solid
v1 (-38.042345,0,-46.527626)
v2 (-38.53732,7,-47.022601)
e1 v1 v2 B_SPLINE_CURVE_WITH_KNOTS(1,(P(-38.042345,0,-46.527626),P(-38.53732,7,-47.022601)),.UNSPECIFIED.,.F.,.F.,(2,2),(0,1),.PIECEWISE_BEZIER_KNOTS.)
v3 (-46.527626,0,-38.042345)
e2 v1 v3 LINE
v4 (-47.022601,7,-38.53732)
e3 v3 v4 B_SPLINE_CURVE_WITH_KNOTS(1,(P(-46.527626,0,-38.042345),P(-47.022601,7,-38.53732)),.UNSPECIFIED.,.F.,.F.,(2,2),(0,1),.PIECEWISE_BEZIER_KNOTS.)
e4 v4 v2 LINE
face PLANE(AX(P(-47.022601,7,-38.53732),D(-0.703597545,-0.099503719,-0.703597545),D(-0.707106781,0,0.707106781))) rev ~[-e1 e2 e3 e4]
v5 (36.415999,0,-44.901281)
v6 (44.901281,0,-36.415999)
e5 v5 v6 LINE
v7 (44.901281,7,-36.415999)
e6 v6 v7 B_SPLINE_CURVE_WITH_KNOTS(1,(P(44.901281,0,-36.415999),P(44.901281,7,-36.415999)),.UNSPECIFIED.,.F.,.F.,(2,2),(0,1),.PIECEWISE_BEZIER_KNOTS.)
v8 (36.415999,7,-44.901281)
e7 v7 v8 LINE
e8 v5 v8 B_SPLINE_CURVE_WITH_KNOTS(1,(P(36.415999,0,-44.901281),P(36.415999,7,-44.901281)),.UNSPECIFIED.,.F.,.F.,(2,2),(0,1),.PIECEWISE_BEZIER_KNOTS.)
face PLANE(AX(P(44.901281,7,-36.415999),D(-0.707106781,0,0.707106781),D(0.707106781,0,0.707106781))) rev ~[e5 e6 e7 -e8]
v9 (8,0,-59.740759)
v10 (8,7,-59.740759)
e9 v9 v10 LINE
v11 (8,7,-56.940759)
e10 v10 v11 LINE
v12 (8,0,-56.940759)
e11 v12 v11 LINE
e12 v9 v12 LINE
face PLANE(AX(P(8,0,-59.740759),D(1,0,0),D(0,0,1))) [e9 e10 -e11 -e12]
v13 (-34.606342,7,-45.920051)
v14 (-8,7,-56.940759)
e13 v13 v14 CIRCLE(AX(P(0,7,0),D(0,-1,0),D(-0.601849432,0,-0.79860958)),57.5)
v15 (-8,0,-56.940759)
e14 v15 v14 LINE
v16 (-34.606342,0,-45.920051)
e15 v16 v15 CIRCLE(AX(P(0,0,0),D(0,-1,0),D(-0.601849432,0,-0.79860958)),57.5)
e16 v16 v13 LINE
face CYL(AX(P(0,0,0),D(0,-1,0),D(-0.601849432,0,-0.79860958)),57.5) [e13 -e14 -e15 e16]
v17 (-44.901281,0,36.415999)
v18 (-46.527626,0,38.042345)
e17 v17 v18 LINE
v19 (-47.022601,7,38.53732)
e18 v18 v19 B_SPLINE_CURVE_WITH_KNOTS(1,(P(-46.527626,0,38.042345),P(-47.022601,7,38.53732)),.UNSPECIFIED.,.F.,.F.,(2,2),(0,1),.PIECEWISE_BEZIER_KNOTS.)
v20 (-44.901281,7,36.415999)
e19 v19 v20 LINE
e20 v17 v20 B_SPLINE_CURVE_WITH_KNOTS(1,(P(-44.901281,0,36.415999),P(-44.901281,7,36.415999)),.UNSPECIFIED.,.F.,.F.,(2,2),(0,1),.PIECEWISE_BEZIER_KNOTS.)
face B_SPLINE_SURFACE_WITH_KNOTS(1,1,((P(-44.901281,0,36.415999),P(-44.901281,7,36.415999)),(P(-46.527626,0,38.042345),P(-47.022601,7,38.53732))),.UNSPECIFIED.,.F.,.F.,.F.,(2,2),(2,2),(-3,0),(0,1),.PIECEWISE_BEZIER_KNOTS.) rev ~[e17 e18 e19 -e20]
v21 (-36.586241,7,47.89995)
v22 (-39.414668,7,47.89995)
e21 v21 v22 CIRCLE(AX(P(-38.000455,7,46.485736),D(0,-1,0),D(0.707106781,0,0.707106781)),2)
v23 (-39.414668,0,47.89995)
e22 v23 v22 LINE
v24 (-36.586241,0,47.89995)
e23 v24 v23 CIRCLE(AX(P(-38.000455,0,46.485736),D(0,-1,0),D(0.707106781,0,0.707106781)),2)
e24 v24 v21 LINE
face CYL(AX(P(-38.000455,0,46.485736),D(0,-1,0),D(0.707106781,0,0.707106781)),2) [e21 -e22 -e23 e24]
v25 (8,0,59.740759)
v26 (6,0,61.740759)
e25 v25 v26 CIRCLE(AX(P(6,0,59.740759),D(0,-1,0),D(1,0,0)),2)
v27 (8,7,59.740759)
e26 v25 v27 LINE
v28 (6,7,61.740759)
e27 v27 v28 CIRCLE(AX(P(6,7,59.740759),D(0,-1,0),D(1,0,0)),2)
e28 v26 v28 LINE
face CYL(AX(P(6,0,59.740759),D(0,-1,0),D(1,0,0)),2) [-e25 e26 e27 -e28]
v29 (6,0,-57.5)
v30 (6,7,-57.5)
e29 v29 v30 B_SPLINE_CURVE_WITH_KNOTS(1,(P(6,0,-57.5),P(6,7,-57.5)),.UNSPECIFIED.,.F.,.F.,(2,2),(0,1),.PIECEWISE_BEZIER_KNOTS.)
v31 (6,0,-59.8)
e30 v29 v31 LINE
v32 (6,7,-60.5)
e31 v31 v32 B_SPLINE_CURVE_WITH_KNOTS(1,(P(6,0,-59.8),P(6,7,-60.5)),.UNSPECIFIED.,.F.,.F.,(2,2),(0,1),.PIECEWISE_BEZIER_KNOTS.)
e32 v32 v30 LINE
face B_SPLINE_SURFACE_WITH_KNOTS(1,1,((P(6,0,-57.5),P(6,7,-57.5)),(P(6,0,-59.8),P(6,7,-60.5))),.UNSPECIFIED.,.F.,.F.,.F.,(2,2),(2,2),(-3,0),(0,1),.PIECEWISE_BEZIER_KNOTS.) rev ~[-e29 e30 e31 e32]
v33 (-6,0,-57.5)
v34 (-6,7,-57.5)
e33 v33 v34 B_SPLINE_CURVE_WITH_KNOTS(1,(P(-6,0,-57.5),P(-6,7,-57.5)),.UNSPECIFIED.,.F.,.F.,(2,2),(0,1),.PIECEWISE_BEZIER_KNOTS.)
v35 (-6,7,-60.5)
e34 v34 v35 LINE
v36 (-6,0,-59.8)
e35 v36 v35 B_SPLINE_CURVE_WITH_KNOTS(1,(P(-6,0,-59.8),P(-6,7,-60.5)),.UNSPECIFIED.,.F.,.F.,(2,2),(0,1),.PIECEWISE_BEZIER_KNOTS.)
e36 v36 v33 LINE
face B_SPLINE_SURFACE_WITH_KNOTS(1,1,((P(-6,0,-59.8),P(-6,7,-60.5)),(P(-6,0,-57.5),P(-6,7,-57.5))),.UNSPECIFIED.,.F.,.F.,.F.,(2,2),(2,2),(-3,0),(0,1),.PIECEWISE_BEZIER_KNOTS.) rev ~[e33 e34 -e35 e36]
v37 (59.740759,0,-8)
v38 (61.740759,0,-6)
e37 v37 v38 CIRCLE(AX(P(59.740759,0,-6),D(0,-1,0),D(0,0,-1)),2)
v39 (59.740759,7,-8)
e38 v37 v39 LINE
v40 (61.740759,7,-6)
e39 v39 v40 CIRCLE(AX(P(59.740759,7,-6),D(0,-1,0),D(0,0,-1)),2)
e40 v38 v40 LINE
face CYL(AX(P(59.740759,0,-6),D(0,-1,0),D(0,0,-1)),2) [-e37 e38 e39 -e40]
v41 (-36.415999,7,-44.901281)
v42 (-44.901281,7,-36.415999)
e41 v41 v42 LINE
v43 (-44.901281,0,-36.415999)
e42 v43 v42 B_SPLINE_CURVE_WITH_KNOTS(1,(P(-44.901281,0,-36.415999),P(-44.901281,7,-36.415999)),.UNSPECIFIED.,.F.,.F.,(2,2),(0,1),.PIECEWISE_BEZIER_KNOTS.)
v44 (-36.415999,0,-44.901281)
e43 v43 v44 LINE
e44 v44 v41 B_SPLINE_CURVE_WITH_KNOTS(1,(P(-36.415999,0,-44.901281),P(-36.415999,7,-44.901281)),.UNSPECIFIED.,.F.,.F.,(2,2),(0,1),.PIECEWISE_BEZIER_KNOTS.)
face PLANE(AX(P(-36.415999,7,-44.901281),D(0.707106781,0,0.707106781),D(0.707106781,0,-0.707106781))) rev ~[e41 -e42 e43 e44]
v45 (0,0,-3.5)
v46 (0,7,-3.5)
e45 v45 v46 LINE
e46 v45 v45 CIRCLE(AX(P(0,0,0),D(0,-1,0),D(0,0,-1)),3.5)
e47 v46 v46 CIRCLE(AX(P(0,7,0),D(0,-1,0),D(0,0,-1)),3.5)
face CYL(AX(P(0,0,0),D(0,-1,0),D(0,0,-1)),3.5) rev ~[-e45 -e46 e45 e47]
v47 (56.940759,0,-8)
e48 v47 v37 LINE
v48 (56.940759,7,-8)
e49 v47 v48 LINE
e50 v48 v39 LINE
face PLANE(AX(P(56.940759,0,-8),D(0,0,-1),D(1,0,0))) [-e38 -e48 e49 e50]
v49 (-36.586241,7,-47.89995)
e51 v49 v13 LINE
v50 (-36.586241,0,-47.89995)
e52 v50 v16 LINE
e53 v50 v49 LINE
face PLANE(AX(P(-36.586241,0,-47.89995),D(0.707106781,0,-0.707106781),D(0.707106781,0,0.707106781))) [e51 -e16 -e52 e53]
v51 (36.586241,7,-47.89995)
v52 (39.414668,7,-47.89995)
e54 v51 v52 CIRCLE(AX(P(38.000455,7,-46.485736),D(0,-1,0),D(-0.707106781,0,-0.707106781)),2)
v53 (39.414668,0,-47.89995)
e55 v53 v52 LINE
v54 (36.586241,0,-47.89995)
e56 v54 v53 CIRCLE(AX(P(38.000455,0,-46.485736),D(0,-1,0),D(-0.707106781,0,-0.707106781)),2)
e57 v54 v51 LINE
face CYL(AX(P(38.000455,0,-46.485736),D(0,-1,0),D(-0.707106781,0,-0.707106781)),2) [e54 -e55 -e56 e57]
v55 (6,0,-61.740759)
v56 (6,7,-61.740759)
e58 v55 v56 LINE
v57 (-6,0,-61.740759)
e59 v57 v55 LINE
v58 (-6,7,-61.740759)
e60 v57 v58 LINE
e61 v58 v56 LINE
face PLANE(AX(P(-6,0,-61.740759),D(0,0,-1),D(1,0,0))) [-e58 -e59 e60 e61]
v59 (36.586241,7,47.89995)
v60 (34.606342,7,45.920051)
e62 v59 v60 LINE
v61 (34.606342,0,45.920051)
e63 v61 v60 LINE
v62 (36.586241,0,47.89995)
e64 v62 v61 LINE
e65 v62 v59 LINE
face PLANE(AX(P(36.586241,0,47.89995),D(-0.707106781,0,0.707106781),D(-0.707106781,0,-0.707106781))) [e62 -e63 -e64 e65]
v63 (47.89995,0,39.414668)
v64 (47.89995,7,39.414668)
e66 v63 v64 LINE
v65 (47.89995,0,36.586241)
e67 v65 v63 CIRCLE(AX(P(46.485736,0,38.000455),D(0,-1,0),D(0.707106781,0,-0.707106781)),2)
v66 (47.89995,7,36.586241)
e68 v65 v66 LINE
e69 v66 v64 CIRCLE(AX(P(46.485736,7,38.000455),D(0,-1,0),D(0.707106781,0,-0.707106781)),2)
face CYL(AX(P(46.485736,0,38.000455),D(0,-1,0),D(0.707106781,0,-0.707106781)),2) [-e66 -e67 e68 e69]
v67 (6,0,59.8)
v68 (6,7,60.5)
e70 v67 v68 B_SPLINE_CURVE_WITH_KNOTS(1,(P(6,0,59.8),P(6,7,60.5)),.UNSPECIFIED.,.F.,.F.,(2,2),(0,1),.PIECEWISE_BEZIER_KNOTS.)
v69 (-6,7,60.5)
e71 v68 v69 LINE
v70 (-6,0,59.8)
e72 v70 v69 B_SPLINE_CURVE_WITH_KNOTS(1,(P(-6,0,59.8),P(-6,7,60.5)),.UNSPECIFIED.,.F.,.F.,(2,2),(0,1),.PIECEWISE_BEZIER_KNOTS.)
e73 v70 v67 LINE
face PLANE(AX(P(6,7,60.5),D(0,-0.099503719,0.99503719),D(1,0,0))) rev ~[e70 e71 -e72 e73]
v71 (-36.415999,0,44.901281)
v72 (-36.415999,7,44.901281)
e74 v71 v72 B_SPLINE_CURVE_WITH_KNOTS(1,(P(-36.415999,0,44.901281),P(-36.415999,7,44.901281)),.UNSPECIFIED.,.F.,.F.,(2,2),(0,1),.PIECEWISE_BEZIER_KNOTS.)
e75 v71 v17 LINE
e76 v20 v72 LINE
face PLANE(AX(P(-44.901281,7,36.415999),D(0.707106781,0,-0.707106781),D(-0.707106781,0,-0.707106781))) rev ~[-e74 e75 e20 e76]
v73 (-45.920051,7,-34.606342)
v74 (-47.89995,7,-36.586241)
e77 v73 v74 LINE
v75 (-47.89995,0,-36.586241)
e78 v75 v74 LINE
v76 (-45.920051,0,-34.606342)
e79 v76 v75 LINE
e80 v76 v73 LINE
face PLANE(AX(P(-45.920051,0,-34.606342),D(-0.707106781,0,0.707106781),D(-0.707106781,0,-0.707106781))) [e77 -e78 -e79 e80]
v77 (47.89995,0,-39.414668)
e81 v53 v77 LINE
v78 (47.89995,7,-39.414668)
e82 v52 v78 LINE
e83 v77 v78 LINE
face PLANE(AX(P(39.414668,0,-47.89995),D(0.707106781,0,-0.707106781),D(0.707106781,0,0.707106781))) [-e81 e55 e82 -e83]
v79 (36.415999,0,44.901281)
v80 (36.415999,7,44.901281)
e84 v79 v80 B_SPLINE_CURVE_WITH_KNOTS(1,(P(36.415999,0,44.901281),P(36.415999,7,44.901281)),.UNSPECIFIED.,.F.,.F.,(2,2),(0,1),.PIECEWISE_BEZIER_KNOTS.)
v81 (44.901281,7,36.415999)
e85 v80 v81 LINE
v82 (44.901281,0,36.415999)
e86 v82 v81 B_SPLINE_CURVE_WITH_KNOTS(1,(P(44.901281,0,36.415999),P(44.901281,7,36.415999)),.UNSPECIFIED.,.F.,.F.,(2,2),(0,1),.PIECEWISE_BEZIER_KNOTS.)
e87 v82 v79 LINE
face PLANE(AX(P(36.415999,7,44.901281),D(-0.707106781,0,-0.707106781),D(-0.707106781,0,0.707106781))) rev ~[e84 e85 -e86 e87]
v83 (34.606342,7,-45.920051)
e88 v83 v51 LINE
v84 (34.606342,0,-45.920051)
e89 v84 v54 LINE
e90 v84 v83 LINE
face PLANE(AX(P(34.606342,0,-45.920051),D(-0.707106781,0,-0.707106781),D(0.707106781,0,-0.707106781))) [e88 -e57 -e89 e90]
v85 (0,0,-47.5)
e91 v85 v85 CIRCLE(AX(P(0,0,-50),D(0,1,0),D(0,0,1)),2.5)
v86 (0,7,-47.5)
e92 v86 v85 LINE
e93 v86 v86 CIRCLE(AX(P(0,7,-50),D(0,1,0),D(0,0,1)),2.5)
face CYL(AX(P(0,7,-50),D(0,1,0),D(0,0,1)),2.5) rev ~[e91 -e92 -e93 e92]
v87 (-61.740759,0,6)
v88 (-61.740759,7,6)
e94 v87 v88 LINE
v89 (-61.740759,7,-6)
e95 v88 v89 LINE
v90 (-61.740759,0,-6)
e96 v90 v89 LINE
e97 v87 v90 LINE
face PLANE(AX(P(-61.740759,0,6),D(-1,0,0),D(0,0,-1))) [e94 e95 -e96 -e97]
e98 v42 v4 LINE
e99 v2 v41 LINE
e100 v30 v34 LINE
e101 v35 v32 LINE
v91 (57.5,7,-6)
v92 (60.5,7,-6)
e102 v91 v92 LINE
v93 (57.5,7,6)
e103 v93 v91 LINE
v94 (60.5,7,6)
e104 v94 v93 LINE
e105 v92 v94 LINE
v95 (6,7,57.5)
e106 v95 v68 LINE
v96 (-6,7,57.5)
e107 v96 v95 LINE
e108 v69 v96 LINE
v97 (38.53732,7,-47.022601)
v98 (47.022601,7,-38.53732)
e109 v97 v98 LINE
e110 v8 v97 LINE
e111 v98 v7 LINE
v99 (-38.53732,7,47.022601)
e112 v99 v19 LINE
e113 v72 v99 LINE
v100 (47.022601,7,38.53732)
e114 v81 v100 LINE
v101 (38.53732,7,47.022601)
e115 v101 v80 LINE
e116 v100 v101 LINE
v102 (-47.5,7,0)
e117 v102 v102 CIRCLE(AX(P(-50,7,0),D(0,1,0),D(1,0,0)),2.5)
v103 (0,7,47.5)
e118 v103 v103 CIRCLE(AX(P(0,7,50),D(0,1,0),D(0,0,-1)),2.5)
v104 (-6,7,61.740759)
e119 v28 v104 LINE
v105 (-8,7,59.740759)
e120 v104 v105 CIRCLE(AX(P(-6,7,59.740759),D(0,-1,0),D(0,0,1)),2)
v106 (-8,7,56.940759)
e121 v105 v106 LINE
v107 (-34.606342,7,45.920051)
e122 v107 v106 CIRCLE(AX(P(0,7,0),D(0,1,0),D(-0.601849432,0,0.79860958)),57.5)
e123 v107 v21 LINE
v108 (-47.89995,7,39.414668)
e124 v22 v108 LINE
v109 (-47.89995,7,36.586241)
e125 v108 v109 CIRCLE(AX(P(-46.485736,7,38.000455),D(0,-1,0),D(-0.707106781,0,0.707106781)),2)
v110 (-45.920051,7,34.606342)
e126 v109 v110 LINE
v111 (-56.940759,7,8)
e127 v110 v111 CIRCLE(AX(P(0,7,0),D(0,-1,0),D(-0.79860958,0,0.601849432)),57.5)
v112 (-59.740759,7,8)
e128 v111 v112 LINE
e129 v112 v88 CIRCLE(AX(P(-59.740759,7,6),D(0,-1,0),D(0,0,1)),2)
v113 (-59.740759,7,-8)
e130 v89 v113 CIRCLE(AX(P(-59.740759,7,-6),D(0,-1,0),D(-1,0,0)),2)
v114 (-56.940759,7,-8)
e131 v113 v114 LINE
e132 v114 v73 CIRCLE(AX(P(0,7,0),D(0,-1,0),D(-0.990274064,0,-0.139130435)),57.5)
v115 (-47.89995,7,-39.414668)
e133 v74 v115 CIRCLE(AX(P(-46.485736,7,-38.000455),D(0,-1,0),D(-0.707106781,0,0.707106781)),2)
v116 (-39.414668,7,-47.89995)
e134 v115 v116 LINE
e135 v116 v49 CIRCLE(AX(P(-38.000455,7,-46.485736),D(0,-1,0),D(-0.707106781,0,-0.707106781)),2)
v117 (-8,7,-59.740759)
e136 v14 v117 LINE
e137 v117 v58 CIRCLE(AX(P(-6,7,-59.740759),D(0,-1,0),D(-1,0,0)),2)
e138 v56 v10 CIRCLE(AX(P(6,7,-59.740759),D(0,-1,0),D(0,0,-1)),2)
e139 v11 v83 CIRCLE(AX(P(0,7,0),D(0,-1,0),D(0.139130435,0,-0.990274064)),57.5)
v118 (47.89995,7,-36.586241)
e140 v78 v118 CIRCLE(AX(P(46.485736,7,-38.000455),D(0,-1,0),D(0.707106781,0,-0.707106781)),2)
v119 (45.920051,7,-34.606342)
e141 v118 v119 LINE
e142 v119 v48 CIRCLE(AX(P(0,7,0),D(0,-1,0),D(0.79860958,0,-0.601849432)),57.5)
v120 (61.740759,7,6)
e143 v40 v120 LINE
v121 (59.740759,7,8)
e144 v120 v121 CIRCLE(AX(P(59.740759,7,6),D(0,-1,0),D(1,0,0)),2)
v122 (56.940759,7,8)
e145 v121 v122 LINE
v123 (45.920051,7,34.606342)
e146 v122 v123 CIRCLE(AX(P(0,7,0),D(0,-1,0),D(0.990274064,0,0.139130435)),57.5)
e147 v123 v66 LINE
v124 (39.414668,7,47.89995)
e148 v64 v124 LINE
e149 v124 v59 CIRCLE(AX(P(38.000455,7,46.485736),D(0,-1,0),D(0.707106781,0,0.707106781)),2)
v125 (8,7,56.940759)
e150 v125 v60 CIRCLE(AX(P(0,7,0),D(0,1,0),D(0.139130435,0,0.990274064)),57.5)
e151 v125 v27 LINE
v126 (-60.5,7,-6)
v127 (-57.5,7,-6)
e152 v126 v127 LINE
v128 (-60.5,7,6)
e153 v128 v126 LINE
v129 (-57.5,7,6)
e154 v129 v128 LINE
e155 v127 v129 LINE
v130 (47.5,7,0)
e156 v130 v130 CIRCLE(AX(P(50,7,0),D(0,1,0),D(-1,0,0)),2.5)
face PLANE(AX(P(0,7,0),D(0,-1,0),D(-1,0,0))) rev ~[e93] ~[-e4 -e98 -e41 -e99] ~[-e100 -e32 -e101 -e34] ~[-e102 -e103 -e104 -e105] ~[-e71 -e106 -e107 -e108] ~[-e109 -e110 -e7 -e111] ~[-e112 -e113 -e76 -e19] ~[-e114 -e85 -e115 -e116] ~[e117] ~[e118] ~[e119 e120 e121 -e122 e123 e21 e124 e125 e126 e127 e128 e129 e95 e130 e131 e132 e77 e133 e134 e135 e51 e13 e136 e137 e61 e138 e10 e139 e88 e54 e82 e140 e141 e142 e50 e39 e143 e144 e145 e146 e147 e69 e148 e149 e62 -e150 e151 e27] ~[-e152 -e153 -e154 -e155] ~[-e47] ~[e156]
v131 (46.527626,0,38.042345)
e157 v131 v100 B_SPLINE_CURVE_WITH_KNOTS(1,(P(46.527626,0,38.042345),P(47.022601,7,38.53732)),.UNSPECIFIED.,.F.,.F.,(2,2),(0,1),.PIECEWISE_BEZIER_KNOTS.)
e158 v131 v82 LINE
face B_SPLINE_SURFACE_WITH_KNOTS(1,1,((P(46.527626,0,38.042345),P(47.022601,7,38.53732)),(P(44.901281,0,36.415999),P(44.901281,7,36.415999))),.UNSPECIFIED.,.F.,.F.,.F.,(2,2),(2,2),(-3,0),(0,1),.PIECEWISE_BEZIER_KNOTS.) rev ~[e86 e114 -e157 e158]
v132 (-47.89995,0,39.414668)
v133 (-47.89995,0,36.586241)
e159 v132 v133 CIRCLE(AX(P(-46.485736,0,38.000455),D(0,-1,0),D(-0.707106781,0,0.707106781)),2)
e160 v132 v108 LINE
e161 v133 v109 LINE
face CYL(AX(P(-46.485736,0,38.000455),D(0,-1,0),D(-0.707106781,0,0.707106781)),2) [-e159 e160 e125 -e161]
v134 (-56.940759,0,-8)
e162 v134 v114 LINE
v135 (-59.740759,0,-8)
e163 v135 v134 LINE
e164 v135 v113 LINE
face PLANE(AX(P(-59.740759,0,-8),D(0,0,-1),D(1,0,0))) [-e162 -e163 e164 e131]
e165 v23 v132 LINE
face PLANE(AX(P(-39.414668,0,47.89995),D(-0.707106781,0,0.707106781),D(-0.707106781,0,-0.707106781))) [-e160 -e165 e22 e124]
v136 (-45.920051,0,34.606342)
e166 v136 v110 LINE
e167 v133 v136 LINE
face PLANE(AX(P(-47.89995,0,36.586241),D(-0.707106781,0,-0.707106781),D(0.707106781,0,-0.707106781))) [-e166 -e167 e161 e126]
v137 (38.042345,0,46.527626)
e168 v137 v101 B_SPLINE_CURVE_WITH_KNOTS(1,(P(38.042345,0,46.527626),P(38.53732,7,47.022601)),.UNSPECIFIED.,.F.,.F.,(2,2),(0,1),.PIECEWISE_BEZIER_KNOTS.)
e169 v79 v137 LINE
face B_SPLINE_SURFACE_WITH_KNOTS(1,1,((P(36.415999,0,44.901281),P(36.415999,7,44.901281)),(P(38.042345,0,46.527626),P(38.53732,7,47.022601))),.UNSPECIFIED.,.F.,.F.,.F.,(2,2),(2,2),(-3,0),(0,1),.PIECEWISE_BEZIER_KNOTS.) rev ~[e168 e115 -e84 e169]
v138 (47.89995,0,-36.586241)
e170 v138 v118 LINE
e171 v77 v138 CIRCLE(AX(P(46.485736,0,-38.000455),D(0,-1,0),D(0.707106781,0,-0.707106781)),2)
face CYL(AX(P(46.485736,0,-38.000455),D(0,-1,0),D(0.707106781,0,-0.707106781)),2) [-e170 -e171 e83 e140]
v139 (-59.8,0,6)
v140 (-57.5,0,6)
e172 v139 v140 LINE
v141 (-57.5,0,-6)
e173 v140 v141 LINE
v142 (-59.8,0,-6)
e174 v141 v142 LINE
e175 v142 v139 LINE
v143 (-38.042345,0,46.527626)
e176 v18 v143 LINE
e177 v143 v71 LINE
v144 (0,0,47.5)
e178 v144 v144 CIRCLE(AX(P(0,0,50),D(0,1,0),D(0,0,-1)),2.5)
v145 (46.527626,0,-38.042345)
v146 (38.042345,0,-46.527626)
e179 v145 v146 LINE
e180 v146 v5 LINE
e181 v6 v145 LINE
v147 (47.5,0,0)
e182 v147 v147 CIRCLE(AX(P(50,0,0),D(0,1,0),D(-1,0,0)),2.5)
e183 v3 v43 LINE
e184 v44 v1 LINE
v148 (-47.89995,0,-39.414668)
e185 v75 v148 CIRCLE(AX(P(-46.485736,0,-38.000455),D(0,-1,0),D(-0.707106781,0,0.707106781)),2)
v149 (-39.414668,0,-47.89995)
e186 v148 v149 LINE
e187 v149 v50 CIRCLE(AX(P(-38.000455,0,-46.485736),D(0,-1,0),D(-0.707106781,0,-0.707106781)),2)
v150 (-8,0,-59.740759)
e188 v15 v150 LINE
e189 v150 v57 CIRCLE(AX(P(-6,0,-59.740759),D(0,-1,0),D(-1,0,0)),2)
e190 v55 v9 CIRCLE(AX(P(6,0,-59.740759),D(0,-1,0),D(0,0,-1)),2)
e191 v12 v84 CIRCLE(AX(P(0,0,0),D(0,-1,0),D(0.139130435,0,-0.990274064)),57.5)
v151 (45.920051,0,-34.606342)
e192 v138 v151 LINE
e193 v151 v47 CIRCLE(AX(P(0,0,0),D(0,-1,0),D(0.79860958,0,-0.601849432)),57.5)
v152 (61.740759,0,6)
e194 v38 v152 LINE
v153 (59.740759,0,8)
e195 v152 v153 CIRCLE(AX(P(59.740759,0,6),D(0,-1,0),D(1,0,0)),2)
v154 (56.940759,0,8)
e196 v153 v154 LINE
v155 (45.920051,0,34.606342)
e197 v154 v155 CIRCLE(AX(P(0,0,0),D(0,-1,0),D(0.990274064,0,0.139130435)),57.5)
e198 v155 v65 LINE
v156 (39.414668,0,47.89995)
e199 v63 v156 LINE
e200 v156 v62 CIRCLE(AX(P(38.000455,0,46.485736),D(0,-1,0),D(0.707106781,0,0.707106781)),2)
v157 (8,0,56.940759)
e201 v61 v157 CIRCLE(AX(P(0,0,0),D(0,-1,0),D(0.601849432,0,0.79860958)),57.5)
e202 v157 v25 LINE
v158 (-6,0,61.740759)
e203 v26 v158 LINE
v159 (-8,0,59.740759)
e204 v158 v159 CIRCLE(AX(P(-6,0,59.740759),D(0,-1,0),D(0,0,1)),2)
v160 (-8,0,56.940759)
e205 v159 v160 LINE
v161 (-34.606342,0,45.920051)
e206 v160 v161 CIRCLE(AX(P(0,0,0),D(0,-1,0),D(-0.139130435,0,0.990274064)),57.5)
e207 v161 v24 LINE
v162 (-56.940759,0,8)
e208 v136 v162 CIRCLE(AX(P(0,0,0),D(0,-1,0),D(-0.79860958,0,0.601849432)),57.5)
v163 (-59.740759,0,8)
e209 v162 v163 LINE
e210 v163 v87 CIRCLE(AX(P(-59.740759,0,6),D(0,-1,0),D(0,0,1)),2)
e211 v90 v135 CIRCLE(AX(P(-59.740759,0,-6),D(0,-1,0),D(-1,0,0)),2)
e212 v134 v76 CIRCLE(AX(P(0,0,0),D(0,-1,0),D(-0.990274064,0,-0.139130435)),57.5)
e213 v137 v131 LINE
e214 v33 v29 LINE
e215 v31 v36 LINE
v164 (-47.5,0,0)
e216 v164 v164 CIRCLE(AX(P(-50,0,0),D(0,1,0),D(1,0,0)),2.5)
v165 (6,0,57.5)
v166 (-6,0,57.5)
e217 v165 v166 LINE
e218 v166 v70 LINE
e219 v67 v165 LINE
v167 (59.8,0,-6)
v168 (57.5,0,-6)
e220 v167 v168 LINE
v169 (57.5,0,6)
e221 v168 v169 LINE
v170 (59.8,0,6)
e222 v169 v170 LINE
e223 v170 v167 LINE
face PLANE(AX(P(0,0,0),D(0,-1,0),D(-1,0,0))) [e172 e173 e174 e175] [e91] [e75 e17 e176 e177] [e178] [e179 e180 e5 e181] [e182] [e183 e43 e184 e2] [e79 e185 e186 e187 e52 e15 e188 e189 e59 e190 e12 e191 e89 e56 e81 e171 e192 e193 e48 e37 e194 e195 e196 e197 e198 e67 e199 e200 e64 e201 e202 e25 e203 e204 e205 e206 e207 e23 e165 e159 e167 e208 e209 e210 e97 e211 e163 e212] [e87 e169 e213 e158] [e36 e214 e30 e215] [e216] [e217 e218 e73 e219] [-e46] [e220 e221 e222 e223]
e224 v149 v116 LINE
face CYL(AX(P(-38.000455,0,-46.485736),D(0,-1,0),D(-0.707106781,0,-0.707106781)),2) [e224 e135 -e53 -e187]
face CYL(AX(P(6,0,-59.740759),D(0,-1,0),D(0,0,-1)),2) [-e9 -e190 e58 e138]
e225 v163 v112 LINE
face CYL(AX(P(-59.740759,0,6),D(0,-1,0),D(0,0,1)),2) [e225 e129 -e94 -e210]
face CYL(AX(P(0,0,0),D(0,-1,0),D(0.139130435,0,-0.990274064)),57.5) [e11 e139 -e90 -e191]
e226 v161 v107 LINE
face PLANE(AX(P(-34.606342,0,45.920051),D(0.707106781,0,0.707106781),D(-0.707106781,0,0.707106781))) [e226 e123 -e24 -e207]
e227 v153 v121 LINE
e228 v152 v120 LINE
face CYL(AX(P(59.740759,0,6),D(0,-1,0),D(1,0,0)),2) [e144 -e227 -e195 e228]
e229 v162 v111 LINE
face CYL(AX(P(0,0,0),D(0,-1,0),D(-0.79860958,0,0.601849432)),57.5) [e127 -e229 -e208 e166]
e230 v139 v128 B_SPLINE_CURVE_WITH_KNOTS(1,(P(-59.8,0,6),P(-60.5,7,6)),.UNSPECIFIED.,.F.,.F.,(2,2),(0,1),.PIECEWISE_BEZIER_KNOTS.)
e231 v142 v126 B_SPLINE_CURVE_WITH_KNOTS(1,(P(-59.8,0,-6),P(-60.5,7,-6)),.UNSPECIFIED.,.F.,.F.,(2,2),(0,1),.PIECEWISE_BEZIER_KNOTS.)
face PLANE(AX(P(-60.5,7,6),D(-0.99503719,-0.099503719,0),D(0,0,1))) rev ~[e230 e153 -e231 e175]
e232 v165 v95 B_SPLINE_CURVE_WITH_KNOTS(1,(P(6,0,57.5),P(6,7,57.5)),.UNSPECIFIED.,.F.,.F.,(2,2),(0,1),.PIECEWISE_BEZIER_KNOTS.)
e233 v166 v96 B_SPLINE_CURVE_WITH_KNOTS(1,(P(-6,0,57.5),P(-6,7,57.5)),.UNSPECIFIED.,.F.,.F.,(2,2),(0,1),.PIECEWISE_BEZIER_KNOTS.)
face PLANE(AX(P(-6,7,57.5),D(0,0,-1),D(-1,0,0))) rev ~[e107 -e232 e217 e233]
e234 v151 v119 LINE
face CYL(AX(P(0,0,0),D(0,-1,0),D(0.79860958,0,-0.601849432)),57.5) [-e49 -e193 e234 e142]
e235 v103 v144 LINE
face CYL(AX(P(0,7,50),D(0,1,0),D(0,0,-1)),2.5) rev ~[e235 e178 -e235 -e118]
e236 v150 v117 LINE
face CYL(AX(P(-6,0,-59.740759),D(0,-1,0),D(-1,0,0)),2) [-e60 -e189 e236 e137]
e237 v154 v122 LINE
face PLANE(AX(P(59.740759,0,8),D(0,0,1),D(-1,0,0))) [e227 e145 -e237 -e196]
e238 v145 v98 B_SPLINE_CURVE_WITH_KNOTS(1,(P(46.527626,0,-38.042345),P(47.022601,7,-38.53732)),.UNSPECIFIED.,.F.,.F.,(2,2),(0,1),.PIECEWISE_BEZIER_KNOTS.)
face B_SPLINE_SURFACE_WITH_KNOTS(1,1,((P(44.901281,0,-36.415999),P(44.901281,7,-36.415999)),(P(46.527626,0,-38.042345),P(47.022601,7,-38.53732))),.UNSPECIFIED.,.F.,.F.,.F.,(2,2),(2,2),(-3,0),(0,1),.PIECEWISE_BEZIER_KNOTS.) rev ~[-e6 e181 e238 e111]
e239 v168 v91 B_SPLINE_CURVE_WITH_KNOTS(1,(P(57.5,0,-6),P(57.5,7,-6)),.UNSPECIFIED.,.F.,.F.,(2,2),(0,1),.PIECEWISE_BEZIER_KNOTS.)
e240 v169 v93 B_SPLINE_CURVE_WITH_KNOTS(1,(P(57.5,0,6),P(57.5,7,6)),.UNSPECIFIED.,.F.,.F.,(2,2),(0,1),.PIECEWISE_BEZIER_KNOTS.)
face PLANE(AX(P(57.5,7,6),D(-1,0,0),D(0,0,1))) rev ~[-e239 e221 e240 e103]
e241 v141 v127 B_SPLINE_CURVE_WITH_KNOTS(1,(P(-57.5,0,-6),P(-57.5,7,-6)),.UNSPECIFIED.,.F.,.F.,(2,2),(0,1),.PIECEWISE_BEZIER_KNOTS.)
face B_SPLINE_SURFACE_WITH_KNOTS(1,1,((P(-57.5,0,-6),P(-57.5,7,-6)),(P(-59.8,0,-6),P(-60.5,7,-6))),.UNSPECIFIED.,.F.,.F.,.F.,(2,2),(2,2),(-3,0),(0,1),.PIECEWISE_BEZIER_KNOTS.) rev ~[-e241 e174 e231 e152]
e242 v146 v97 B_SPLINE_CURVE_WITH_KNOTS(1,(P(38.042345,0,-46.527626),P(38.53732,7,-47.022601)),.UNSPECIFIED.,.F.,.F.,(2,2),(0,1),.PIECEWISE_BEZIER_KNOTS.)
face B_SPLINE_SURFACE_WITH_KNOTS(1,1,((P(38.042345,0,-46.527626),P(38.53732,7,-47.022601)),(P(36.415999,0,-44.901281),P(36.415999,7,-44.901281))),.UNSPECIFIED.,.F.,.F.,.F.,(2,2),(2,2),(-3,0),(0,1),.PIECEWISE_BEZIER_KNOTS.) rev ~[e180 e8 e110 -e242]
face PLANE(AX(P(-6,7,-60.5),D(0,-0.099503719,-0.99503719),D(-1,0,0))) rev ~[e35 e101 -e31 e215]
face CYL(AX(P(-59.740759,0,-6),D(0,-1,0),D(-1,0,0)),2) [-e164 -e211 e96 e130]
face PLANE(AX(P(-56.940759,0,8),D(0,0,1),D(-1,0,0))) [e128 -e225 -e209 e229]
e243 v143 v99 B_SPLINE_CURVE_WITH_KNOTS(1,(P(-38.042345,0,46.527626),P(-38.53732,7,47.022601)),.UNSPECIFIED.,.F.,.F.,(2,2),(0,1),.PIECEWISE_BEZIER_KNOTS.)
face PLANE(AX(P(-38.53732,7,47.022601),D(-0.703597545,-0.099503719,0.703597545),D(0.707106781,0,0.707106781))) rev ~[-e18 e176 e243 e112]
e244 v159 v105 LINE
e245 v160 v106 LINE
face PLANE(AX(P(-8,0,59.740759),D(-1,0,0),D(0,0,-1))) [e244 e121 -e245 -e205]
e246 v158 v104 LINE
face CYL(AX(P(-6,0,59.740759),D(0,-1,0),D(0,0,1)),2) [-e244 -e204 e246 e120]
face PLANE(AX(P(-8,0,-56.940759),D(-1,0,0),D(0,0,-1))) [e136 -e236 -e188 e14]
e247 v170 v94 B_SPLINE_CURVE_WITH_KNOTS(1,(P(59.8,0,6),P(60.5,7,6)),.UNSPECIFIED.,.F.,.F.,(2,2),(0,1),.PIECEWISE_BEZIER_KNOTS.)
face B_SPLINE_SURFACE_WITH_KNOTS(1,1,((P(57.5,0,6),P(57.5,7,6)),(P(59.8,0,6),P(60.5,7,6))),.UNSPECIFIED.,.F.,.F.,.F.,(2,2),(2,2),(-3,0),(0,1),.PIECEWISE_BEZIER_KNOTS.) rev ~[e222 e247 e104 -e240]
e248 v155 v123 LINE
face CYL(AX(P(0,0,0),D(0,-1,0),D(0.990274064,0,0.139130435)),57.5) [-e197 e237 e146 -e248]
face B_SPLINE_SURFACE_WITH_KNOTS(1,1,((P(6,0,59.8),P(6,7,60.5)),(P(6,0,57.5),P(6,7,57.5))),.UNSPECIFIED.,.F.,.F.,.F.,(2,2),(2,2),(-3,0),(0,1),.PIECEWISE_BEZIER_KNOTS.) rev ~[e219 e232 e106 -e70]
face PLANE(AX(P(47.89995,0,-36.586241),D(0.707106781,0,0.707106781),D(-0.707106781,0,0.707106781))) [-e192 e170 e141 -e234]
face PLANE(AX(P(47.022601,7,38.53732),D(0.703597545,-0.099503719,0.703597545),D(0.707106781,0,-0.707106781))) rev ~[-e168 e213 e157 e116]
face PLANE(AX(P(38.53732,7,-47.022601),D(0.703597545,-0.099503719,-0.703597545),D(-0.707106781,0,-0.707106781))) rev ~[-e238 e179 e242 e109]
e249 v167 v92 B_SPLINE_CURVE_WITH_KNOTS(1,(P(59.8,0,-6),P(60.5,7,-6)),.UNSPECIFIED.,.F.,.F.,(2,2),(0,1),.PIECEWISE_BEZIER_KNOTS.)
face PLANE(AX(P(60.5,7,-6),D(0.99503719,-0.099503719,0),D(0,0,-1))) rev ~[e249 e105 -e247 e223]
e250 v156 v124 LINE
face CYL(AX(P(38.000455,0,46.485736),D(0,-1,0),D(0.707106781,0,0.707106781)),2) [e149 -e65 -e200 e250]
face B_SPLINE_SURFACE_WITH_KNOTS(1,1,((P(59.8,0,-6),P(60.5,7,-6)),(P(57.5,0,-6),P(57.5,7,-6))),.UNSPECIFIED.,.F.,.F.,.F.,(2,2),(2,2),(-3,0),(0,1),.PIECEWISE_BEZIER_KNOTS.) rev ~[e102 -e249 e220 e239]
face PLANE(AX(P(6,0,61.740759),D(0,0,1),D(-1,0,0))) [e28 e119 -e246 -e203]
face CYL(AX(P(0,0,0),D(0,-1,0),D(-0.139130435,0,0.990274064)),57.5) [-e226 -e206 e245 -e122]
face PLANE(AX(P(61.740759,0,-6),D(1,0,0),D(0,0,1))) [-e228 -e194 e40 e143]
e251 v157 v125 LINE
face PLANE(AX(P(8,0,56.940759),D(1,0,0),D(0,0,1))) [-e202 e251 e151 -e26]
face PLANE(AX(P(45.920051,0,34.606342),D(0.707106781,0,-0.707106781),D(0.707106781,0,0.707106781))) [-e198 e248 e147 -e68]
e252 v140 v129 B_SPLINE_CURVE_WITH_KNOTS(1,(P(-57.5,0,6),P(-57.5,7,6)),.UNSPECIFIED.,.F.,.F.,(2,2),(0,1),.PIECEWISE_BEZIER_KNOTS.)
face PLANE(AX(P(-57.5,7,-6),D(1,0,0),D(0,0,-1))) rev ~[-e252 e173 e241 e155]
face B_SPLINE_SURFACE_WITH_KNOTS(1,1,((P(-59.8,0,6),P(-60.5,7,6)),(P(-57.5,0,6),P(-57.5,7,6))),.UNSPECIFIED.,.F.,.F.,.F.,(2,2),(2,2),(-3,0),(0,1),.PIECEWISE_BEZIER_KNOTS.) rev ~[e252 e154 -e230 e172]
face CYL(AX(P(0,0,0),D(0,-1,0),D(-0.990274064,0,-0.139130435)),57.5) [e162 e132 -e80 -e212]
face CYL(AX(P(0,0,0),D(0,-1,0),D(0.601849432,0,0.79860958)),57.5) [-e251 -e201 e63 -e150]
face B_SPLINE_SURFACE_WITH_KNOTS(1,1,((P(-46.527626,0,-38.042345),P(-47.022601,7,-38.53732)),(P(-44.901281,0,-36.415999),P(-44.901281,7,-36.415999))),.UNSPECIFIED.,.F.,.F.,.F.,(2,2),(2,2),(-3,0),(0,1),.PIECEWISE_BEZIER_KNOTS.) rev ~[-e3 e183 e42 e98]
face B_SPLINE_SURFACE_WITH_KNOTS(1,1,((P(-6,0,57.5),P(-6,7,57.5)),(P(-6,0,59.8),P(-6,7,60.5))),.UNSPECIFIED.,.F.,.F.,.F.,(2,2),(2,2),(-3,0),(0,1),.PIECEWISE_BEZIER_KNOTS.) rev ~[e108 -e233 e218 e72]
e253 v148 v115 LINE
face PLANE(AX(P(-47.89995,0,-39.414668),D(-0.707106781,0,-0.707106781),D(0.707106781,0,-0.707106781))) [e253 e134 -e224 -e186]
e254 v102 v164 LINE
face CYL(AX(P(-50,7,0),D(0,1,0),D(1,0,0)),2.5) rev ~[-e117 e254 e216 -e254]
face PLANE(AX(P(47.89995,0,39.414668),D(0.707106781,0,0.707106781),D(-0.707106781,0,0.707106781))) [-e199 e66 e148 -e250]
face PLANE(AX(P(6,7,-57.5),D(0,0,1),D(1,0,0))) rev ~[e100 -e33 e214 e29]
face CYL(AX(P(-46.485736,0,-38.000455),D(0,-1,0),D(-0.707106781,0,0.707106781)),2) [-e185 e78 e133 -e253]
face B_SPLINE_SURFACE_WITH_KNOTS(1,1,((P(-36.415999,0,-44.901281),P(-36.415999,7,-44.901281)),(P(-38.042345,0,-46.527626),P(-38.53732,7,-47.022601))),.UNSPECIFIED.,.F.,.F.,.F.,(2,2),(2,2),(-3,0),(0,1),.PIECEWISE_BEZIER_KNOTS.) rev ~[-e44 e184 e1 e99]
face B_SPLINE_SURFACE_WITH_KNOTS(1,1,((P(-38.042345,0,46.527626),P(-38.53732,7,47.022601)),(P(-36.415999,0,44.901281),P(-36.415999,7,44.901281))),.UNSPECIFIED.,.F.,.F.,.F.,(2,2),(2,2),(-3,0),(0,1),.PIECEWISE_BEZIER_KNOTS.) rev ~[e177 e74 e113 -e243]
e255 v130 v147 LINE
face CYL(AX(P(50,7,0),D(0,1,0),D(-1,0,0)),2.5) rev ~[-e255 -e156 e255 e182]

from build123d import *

# Parameters (mm, degrees)
BOSS_EXTRUDE1_DEPTH    = 7
SKETCH2_W              = 5
SKETCH2_H              = 10
BOSS_EXTRUDE2_DEPTH    = 95
SKETCH15_R             = 3.5
CUT_EXTRUDE3_DEPTH     = 7
CIRPATTERN1_COUNT      = 8
SKETCH18_W             = 10
SKETCH18_H             = 5
BOSS_EXTRUDE3_DEPTH    = 34
BOSS_EXTRUDE4_DEPTH    = 10
FILLET1_R              = 2
FILLET2_R              = 2
LPATTERN2_COUNT        = 10
LPATTERN2_PITCH        = 8
FILLET1_OF_LPATTERN2_R = 2
SKETCH20_R             = 2.5
CUT_EXTRUDE4_DEPTH     = 10
CIRPATTERN2_COUNT      = 4
CUT_EXTRUDE7_DEPTH     = 142.792331695


with BuildPart() as part:
    # Sketch1 → Boss-Extrude1 (new body)
    with BuildSketch(Plane(origin=(0, 0, 0), x_dir=(1, 0, 0), z_dir=(0, 1, 0))):
        with BuildLine():
            Line((-8, 56.940758688), (-8, 59.740758688))
            ThreePointArc((-8, 59.740758688), (-7.414213562, 61.154972251), (-6, 61.740758688))
            Line((-6, 61.740758688), (6, 61.740758688))
            ThreePointArc((6, 61.740758688), (7.414213562, 61.154972251), (8, 59.740758688))
            Line((8, 59.740758688), (8, 56.940758688))
            ThreePointArc((8, 56.940758688), (22.004297361, 53.123073119), (34.606342345, 45.920050844))
            Line((34.606342345, 45.920050844), (36.586241332, 47.899949831))
            ThreePointArc((36.586241332, 47.899949831), (38.000454895, 48.485736269), (39.414668457, 47.899949831))
            Line((39.414668457, 47.899949831), (47.899949831, 39.414668457))
            ThreePointArc((47.899949831, 39.414668457), (48.485736269, 38.000454895), (47.899949831, 36.586241332))
            Line((47.899949831, 36.586241332), (45.920050844, 34.606342345))
            ThreePointArc((45.920050844, 34.606342345), (53.123073119, 22.004297361), (56.940758688, 8))
            Line((56.940758688, 8), (59.740758688, 8))
            ThreePointArc((59.740758688, 8), (61.154972251, 7.414213562), (61.740758688, 6))
            Line((61.740758688, 6), (61.740758688, -6))
            ThreePointArc((61.740758688, -6), (61.154972251, -7.414213562), (59.740758688, -8))
            Line((59.740758688, -8), (56.940758688, -8))
            ThreePointArc((56.940758688, -8), (53.123073119, -22.004297361), (45.920050844, -34.606342345))
            Line((45.920050844, -34.606342345), (47.899949831, -36.586241332))
            ThreePointArc((47.899949831, -36.586241332), (48.485736269, -38.000454895), (47.899949831, -39.414668457))
            Line((47.899949831, -39.414668457), (39.414668457, -47.899949831))
            ThreePointArc((39.414668457, -47.899949831), (38.000454895, -48.485736269), (36.586241332, -47.899949831))
            Line((36.586241332, -47.899949831), (34.606342345, -45.920050844))
            ThreePointArc((34.606342345, -45.920050844), (22.004297361, -53.123073119), (8, -56.940758688))
            Line((8, -56.940758688), (8, -59.740758688))
            ThreePointArc((8, -59.740758688), (7.414213562, -61.154972251), (6, -61.740758688))
            Line((6, -61.740758688), (-6, -61.740758688))
            ThreePointArc((-6, -61.740758688), (-7.414213562, -61.154972251), (-8, -59.740758688))
            Line((-8, -59.740758688), (-8, -56.940758688))
            ThreePointArc((-8, -56.940758688), (-22.004297361, -53.123073119), (-34.606342345, -45.920050844))
            Line((-34.606342345, -45.920050844), (-36.586241332, -47.899949831))
            ThreePointArc((-36.586241332, -47.899949831), (-38.000454895, -48.485736269), (-39.414668457, -47.899949831))
            Line((-39.414668457, -47.899949831), (-47.899949831, -39.414668457))
            ThreePointArc((-47.899949831, -39.414668457), (-48.485736269, -38.000454895), (-47.899949831, -36.586241332))
            Line((-47.899949831, -36.586241332), (-45.920050844, -34.606342345))
            ThreePointArc((-45.920050844, -34.606342345), (-53.123073119, -22.004297361), (-56.940758688, -8))
            Line((-56.940758688, -8), (-59.740758688, -8))
            ThreePointArc((-59.740758688, -8), (-61.154972251, -7.414213562), (-61.740758688, -6))
            Line((-61.740758688, -6), (-61.740758688, 6))
            ThreePointArc((-61.740758688, 6), (-61.154972251, 7.414213562), (-59.740758688, 8))
            Line((-59.740758688, 8), (-56.940758688, 8))
            ThreePointArc((-56.940758688, 8), (-53.123073119, 22.004297361), (-45.920050844, 34.606342345))
            Line((-45.920050844, 34.606342345), (-47.899949831, 36.586241332))
            ThreePointArc((-47.899949831, 36.586241332), (-48.485736269, 38.000454895), (-47.899949831, 39.414668457))
            Line((-47.899949831, 39.414668457), (-39.414668457, 47.899949831))
            ThreePointArc((-39.414668457, 47.899949831), (-38.000454895, 48.485736269), (-36.586241332, 47.899949831))
            Line((-36.586241332, 47.899949831), (-34.606342345, 45.920050844))
            ThreePointArc((-34.606342345, 45.920050844), (-22.004297361, 53.123073119), (-8, 56.940758688))
        make_face()
    extrude(amount=BOSS_EXTRUDE1_DEPTH)

    # Sketch2 → Boss-Extrude2 (add)
    with BuildSketch(Plane(origin=(0, 7, 0), x_dir=(1, 0, 0), z_dir=(0, 1, 0))):
        with Locations((19.5, 10)):
            Rectangle(SKETCH2_W, SKETCH2_H)
        with Locations((-19.5, 10)):
            Rectangle(SKETCH2_W, SKETCH2_H)
    extrude(amount=BOSS_EXTRUDE2_DEPTH)

    # Sketch15 → Cut-Extrude3 (cut)
    with BuildSketch(Plane.XZ):
        with Locations(Location((0, 0, 0), (0, 0, 270))):
            Circle(SKETCH15_R)
    extrude(amount=-CUT_EXTRUDE3_DEPTH, mode=Mode.SUBTRACT)

    # Sketch16 → Cut-Loft2 section 0
    with BuildSketch(Plane.XZ):
        with BuildLine():
            Line((-6, 59.8), (6, 59.8))
            Line((6, 59.8), (6, 57.5))
            Line((6, 57.5), (-6, 57.5))
            Line((-6, 57.5), (-6, 59.8))
        make_face()
    # Sketch17 → Cut-Loft2 section 1
    with BuildSketch(Plane(origin=(0, 7, 0), x_dir=(1, 0, 0), z_dir=(0, 1, 0))):
        with BuildLine():
            Line((-6, -57.5), (6, -57.5))
            Line((6, -57.5), (6, -60.5))
            Line((6, -60.5), (-6, -60.5))
            Line((-6, -60.5), (-6, -57.5))
        make_face()
    cut_loft2 = loft(mode=Mode.SUBTRACT)

    # CirPattern1: Cut-Loft2 ×8 about axis
    cirpattern1_axis = Axis((0, 0, 0), (0, 1, 0))
    for i in range(1, CIRPATTERN1_COUNT):
        add(cut_loft2.rotate(cirpattern1_axis, i * 360 / CIRPATTERN1_COUNT), mode=Mode.SUBTRACT)

    # Sketch18 → Boss-Extrude3 (add)
    with BuildSketch(Plane(origin=(-17, 0, 0), x_dir=(0, 0, -1), z_dir=(1, 0, 0))):
        with Locations((10, 99.5)):
            Rectangle(SKETCH18_W, SKETCH18_H)
    extrude(amount=BOSS_EXTRUDE3_DEPTH)

    # Sketch19 → Boss-Extrude4 (add)
    with BuildSketch(Plane(origin=(0, 0, -15), x_dir=(-1, 0, 0), z_dir=(0, 0, -1))):
        with BuildLine():
            Line((-17, 93), (-11.04472309, 92.26878394))
            ThreePointArc((-11.04472309, 92.26878394), (-9.922197884, 91), (-11.04472309, 89.73121606))
            Line((-11.04472309, 89.73121606), (-17, 89))
            Line((-17, 89), (-17, 93))
        make_face()
    boss_extrude4 = extrude(amount=-BOSS_EXTRUDE4_DEPTH)

    # Fillet1
    fillet1_edges = [part.edges().sort_by_distance(p)[0] for p in [
        (17, 89, -10),
        (17, 93, -10),
    ]]
    fillet(fillet1_edges, radius=FILLET1_R)

    # Fillet2
    fillet2_edges = [part.edges().sort_by_distance(p)[0] for p in [
        (22, 102, -10),
        (-22, 102, -10),
        (-17, 97, -10),
        (17, 97, -10),
    ]]
    fillet(fillet2_edges, radius=FILLET2_R)

    # LPattern2: Boss-Extrude4 ×10
    with Locations(*[(0, -i * LPATTERN2_PITCH, 0) for i in range(1, LPATTERN2_COUNT)]):
        add(boss_extrude4)

    # Fillet1 of LPattern2
    fillet1_of_lpattern2_edges = [part.edges().sort_by_distance(p)[0] for p in [
        (17, 81, -10),
        (17, 85, -10),
        (17, 73, -10),
        (17, 77, -10),
        (17, 65, -10),
        (17, 69, -10),
        (17, 57, -10),
        (17, 61, -10),
        (17, 49, -10),
        (17, 53, -10),
        (17, 41, -10),
        (17, 45, -10),
        (17, 33, -10),
        (17, 37, -10),
        (17, 25, -10),
        (17, 29, -10),
        (17, 17, -10),
        (17, 21, -10),
    ]]
    fillet(fillet1_of_lpattern2_edges, radius=FILLET1_OF_LPATTERN2_R)

    # Sketch20 → Cut-Extrude4 (cut)
    with BuildSketch(Plane(origin=(0, 7, 0), x_dir=(1, 0, 0), z_dir=(0, 1, 0))):
        with Locations(Location((0, 50, 0), (0, 0, 270))):
            Circle(SKETCH20_R)
    cut_extrude4 = extrude(amount=-CUT_EXTRUDE4_DEPTH, mode=Mode.SUBTRACT)

    # CirPattern2: Cut-Extrude4 ×4 about axis
    cirpattern2_axis = Axis((0, 0, 0), (0, 1, 0))
    for i in range(1, CIRPATTERN2_COUNT):
        add(cut_extrude4.rotate(cirpattern2_axis, i * 360 / CIRPATTERN2_COUNT), mode=Mode.SUBTRACT)

    # Sketch22 → Cut-Extrude7 (cut, through all)
    with BuildSketch(Plane(origin=(0, 0, -15), x_dir=(-1, 0, 0), z_dir=(0, 0, -1))):
        with BuildLine():
            Line((20, 102), (-20, 102))
            ThreePointArc((-20, 102), (-21.414213562, 101.414213562), (-22, 100))
            Line((-22, 100), (-22, 7))
            Line((-22, 7), (-17, 7))
            Line((-17, 7), (-17, 15.230549471))
            ThreePointArc((-17, 15.230549471), (-16.497911442, 16.555789567), (-15.243738687, 17.215641774))
            Line((-15.243738687, 17.215641774), (-11.04472309, 17.73121606))
            ThreePointArc((-11.04472309, 17.73121606), (-9.922197884, 19), (-11.04472309, 20.26878394))
            Line((-11.04472309, 20.26878394), (-15.243738687, 20.784358226))
            ThreePointArc((-15.243738687, 20.784358226), (-16.497911442, 21.444210433), (-17, 22.769450529))
            Line((-17, 22.769450529), (-17, 23.230549471))
            ThreePointArc((-17, 23.230549471), (-16.497911442, 24.555789567), (-15.243738687, 25.215641774))
            Line((-15.243738687, 25.215641774), (-11.04472309, 25.73121606))
            ThreePointArc((-11.04472309, 25.73121606), (-9.922197884, 27), (-11.04472309, 28.26878394))
            Line((-11.04472309, 28.26878394), (-15.243738687, 28.784358226))
            ThreePointArc((-15.243738687, 28.784358226), (-16.497911442, 29.444210433), (-17, 30.769450529))
            Line((-17, 30.769450529), (-17, 31.230549471))
            ThreePointArc((-17, 31.230549471), (-16.497911442, 32.555789567), (-15.243738687, 33.215641774))
            Line((-15.243738687, 33.215641774), (-11.04472309, 33.73121606))
            ThreePointArc((-11.04472309, 33.73121606), (-9.922197884, 35), (-11.04472309, 36.26878394))
            Line((-11.04472309, 36.26878394), (-15.243738687, 36.784358226))
            ThreePointArc((-15.243738687, 36.784358226), (-16.497911442, 37.444210433), (-17, 38.769450529))
            Line((-17, 38.769450529), (-17, 39.230549471))
            ThreePointArc((-17, 39.230549471), (-16.497911442, 40.555789567), (-15.243738687, 41.215641774))
            Line((-15.243738687, 41.215641774), (-11.04472309, 41.73121606))
            ThreePointArc((-11.04472309, 41.73121606), (-9.922197884, 43), (-11.04472309, 44.26878394))
            Line((-11.04472309, 44.26878394), (-15.243738687, 44.784358226))
            ThreePointArc((-15.243738687, 44.784358226), (-16.497911442, 45.444210433), (-17, 46.769450529))
            Line((-17, 46.769450529), (-17, 47.230549471))
            ThreePointArc((-17, 47.230549471), (-16.497911442, 48.555789567), (-15.243738687, 49.215641774))
            Line((-15.243738687, 49.215641774), (-11.04472309, 49.73121606))
            ThreePointArc((-11.04472309, 49.73121606), (-9.922197884, 51), (-11.04472309, 52.26878394))
            Line((-11.04472309, 52.26878394), (-15.243738687, 52.784358226))
            ThreePointArc((-15.243738687, 52.784358226), (-16.497911442, 53.444210433), (-17, 54.769450529))
            Line((-17, 54.769450529), (-17, 55.230549471))
            ThreePointArc((-17, 55.230549471), (-16.497911442, 56.555789567), (-15.243738687, 57.215641774))
            Line((-15.243738687, 57.215641774), (-11.04472309, 57.73121606))
            ThreePointArc((-11.04472309, 57.73121606), (-9.922197884, 59), (-11.04472309, 60.26878394))
            Line((-11.04472309, 60.26878394), (-15.243738687, 60.784358226))
            ThreePointArc((-15.243738687, 60.784358226), (-16.497911442, 61.444210433), (-17, 62.769450529))
            Line((-17, 62.769450529), (-17, 63.230549471))
            ThreePointArc((-17, 63.230549471), (-16.497911442, 64.555789567), (-15.243738687, 65.215641774))
            Line((-15.243738687, 65.215641774), (-11.04472309, 65.73121606))
            ThreePointArc((-11.04472309, 65.73121606), (-9.922197884, 67), (-11.04472309, 68.26878394))
            Line((-11.04472309, 68.26878394), (-15.243738687, 68.784358226))
            ThreePointArc((-15.243738687, 68.784358226), (-16.497911442, 69.444210433), (-17, 70.769450529))
            Line((-17, 70.769450529), (-17, 71.230549471))
            ThreePointArc((-17, 71.230549471), (-16.497911442, 72.555789567), (-15.243738687, 73.215641774))
            Line((-15.243738687, 73.215641774), (-11.04472309, 73.73121606))
            ThreePointArc((-11.04472309, 73.73121606), (-9.922197884, 75), (-11.04472309, 76.26878394))
            Line((-11.04472309, 76.26878394), (-15.243738687, 76.784358226))
            ThreePointArc((-15.243738687, 76.784358226), (-16.497911442, 77.444210433), (-17, 78.769450529))
            Line((-17, 78.769450529), (-17, 79.230549471))
            ThreePointArc((-17, 79.230549471), (-16.497911442, 80.555789567), (-15.243738687, 81.215641774))
            Line((-15.243738687, 81.215641774), (-11.04472309, 81.73121606))
            ThreePointArc((-11.04472309, 81.73121606), (-9.922197884, 83), (-11.04472309, 84.26878394))
            Line((-11.04472309, 84.26878394), (-15.243738687, 84.784358226))
            ThreePointArc((-15.243738687, 84.784358226), (-16.497911442, 85.444210433), (-17, 86.769450529))
            Line((-17, 86.769450529), (-17, 87.230549471))
            ThreePointArc((-17, 87.230549471), (-16.497911442, 88.555789567), (-15.243738687, 89.215641774))
            Line((-15.243738687, 89.215641774), (-11.04472309, 89.73121606))
            ThreePointArc((-11.04472309, 89.73121606), (-9.922197884, 91), (-11.04472309, 92.26878394))
            Line((-11.04472309, 92.26878394), (-15.243738687, 92.784358226))
            ThreePointArc((-15.243738687, 92.784358226), (-16.497911442, 93.444210433), (-17, 94.769450529))
            Line((-17, 94.769450529), (-17, 95))
            ThreePointArc((-17, 95), (-16.414213562, 96.414213562), (-15, 97))
            Line((-15, 97), (15, 97))
            ThreePointArc((15, 97), (16.414213562, 96.414213562), (17, 95))
            Line((17, 95), (17, 7))
            Line((17, 7), (22, 7))
            Line((22, 7), (22, 100))
            ThreePointArc((22, 100), (21.414213562, 101.414213562), (20, 102))
        make_face()
    extrude(amount=-CUT_EXTRUDE7_DEPTH, mode=Mode.SUBTRACT)


solid = part.part
